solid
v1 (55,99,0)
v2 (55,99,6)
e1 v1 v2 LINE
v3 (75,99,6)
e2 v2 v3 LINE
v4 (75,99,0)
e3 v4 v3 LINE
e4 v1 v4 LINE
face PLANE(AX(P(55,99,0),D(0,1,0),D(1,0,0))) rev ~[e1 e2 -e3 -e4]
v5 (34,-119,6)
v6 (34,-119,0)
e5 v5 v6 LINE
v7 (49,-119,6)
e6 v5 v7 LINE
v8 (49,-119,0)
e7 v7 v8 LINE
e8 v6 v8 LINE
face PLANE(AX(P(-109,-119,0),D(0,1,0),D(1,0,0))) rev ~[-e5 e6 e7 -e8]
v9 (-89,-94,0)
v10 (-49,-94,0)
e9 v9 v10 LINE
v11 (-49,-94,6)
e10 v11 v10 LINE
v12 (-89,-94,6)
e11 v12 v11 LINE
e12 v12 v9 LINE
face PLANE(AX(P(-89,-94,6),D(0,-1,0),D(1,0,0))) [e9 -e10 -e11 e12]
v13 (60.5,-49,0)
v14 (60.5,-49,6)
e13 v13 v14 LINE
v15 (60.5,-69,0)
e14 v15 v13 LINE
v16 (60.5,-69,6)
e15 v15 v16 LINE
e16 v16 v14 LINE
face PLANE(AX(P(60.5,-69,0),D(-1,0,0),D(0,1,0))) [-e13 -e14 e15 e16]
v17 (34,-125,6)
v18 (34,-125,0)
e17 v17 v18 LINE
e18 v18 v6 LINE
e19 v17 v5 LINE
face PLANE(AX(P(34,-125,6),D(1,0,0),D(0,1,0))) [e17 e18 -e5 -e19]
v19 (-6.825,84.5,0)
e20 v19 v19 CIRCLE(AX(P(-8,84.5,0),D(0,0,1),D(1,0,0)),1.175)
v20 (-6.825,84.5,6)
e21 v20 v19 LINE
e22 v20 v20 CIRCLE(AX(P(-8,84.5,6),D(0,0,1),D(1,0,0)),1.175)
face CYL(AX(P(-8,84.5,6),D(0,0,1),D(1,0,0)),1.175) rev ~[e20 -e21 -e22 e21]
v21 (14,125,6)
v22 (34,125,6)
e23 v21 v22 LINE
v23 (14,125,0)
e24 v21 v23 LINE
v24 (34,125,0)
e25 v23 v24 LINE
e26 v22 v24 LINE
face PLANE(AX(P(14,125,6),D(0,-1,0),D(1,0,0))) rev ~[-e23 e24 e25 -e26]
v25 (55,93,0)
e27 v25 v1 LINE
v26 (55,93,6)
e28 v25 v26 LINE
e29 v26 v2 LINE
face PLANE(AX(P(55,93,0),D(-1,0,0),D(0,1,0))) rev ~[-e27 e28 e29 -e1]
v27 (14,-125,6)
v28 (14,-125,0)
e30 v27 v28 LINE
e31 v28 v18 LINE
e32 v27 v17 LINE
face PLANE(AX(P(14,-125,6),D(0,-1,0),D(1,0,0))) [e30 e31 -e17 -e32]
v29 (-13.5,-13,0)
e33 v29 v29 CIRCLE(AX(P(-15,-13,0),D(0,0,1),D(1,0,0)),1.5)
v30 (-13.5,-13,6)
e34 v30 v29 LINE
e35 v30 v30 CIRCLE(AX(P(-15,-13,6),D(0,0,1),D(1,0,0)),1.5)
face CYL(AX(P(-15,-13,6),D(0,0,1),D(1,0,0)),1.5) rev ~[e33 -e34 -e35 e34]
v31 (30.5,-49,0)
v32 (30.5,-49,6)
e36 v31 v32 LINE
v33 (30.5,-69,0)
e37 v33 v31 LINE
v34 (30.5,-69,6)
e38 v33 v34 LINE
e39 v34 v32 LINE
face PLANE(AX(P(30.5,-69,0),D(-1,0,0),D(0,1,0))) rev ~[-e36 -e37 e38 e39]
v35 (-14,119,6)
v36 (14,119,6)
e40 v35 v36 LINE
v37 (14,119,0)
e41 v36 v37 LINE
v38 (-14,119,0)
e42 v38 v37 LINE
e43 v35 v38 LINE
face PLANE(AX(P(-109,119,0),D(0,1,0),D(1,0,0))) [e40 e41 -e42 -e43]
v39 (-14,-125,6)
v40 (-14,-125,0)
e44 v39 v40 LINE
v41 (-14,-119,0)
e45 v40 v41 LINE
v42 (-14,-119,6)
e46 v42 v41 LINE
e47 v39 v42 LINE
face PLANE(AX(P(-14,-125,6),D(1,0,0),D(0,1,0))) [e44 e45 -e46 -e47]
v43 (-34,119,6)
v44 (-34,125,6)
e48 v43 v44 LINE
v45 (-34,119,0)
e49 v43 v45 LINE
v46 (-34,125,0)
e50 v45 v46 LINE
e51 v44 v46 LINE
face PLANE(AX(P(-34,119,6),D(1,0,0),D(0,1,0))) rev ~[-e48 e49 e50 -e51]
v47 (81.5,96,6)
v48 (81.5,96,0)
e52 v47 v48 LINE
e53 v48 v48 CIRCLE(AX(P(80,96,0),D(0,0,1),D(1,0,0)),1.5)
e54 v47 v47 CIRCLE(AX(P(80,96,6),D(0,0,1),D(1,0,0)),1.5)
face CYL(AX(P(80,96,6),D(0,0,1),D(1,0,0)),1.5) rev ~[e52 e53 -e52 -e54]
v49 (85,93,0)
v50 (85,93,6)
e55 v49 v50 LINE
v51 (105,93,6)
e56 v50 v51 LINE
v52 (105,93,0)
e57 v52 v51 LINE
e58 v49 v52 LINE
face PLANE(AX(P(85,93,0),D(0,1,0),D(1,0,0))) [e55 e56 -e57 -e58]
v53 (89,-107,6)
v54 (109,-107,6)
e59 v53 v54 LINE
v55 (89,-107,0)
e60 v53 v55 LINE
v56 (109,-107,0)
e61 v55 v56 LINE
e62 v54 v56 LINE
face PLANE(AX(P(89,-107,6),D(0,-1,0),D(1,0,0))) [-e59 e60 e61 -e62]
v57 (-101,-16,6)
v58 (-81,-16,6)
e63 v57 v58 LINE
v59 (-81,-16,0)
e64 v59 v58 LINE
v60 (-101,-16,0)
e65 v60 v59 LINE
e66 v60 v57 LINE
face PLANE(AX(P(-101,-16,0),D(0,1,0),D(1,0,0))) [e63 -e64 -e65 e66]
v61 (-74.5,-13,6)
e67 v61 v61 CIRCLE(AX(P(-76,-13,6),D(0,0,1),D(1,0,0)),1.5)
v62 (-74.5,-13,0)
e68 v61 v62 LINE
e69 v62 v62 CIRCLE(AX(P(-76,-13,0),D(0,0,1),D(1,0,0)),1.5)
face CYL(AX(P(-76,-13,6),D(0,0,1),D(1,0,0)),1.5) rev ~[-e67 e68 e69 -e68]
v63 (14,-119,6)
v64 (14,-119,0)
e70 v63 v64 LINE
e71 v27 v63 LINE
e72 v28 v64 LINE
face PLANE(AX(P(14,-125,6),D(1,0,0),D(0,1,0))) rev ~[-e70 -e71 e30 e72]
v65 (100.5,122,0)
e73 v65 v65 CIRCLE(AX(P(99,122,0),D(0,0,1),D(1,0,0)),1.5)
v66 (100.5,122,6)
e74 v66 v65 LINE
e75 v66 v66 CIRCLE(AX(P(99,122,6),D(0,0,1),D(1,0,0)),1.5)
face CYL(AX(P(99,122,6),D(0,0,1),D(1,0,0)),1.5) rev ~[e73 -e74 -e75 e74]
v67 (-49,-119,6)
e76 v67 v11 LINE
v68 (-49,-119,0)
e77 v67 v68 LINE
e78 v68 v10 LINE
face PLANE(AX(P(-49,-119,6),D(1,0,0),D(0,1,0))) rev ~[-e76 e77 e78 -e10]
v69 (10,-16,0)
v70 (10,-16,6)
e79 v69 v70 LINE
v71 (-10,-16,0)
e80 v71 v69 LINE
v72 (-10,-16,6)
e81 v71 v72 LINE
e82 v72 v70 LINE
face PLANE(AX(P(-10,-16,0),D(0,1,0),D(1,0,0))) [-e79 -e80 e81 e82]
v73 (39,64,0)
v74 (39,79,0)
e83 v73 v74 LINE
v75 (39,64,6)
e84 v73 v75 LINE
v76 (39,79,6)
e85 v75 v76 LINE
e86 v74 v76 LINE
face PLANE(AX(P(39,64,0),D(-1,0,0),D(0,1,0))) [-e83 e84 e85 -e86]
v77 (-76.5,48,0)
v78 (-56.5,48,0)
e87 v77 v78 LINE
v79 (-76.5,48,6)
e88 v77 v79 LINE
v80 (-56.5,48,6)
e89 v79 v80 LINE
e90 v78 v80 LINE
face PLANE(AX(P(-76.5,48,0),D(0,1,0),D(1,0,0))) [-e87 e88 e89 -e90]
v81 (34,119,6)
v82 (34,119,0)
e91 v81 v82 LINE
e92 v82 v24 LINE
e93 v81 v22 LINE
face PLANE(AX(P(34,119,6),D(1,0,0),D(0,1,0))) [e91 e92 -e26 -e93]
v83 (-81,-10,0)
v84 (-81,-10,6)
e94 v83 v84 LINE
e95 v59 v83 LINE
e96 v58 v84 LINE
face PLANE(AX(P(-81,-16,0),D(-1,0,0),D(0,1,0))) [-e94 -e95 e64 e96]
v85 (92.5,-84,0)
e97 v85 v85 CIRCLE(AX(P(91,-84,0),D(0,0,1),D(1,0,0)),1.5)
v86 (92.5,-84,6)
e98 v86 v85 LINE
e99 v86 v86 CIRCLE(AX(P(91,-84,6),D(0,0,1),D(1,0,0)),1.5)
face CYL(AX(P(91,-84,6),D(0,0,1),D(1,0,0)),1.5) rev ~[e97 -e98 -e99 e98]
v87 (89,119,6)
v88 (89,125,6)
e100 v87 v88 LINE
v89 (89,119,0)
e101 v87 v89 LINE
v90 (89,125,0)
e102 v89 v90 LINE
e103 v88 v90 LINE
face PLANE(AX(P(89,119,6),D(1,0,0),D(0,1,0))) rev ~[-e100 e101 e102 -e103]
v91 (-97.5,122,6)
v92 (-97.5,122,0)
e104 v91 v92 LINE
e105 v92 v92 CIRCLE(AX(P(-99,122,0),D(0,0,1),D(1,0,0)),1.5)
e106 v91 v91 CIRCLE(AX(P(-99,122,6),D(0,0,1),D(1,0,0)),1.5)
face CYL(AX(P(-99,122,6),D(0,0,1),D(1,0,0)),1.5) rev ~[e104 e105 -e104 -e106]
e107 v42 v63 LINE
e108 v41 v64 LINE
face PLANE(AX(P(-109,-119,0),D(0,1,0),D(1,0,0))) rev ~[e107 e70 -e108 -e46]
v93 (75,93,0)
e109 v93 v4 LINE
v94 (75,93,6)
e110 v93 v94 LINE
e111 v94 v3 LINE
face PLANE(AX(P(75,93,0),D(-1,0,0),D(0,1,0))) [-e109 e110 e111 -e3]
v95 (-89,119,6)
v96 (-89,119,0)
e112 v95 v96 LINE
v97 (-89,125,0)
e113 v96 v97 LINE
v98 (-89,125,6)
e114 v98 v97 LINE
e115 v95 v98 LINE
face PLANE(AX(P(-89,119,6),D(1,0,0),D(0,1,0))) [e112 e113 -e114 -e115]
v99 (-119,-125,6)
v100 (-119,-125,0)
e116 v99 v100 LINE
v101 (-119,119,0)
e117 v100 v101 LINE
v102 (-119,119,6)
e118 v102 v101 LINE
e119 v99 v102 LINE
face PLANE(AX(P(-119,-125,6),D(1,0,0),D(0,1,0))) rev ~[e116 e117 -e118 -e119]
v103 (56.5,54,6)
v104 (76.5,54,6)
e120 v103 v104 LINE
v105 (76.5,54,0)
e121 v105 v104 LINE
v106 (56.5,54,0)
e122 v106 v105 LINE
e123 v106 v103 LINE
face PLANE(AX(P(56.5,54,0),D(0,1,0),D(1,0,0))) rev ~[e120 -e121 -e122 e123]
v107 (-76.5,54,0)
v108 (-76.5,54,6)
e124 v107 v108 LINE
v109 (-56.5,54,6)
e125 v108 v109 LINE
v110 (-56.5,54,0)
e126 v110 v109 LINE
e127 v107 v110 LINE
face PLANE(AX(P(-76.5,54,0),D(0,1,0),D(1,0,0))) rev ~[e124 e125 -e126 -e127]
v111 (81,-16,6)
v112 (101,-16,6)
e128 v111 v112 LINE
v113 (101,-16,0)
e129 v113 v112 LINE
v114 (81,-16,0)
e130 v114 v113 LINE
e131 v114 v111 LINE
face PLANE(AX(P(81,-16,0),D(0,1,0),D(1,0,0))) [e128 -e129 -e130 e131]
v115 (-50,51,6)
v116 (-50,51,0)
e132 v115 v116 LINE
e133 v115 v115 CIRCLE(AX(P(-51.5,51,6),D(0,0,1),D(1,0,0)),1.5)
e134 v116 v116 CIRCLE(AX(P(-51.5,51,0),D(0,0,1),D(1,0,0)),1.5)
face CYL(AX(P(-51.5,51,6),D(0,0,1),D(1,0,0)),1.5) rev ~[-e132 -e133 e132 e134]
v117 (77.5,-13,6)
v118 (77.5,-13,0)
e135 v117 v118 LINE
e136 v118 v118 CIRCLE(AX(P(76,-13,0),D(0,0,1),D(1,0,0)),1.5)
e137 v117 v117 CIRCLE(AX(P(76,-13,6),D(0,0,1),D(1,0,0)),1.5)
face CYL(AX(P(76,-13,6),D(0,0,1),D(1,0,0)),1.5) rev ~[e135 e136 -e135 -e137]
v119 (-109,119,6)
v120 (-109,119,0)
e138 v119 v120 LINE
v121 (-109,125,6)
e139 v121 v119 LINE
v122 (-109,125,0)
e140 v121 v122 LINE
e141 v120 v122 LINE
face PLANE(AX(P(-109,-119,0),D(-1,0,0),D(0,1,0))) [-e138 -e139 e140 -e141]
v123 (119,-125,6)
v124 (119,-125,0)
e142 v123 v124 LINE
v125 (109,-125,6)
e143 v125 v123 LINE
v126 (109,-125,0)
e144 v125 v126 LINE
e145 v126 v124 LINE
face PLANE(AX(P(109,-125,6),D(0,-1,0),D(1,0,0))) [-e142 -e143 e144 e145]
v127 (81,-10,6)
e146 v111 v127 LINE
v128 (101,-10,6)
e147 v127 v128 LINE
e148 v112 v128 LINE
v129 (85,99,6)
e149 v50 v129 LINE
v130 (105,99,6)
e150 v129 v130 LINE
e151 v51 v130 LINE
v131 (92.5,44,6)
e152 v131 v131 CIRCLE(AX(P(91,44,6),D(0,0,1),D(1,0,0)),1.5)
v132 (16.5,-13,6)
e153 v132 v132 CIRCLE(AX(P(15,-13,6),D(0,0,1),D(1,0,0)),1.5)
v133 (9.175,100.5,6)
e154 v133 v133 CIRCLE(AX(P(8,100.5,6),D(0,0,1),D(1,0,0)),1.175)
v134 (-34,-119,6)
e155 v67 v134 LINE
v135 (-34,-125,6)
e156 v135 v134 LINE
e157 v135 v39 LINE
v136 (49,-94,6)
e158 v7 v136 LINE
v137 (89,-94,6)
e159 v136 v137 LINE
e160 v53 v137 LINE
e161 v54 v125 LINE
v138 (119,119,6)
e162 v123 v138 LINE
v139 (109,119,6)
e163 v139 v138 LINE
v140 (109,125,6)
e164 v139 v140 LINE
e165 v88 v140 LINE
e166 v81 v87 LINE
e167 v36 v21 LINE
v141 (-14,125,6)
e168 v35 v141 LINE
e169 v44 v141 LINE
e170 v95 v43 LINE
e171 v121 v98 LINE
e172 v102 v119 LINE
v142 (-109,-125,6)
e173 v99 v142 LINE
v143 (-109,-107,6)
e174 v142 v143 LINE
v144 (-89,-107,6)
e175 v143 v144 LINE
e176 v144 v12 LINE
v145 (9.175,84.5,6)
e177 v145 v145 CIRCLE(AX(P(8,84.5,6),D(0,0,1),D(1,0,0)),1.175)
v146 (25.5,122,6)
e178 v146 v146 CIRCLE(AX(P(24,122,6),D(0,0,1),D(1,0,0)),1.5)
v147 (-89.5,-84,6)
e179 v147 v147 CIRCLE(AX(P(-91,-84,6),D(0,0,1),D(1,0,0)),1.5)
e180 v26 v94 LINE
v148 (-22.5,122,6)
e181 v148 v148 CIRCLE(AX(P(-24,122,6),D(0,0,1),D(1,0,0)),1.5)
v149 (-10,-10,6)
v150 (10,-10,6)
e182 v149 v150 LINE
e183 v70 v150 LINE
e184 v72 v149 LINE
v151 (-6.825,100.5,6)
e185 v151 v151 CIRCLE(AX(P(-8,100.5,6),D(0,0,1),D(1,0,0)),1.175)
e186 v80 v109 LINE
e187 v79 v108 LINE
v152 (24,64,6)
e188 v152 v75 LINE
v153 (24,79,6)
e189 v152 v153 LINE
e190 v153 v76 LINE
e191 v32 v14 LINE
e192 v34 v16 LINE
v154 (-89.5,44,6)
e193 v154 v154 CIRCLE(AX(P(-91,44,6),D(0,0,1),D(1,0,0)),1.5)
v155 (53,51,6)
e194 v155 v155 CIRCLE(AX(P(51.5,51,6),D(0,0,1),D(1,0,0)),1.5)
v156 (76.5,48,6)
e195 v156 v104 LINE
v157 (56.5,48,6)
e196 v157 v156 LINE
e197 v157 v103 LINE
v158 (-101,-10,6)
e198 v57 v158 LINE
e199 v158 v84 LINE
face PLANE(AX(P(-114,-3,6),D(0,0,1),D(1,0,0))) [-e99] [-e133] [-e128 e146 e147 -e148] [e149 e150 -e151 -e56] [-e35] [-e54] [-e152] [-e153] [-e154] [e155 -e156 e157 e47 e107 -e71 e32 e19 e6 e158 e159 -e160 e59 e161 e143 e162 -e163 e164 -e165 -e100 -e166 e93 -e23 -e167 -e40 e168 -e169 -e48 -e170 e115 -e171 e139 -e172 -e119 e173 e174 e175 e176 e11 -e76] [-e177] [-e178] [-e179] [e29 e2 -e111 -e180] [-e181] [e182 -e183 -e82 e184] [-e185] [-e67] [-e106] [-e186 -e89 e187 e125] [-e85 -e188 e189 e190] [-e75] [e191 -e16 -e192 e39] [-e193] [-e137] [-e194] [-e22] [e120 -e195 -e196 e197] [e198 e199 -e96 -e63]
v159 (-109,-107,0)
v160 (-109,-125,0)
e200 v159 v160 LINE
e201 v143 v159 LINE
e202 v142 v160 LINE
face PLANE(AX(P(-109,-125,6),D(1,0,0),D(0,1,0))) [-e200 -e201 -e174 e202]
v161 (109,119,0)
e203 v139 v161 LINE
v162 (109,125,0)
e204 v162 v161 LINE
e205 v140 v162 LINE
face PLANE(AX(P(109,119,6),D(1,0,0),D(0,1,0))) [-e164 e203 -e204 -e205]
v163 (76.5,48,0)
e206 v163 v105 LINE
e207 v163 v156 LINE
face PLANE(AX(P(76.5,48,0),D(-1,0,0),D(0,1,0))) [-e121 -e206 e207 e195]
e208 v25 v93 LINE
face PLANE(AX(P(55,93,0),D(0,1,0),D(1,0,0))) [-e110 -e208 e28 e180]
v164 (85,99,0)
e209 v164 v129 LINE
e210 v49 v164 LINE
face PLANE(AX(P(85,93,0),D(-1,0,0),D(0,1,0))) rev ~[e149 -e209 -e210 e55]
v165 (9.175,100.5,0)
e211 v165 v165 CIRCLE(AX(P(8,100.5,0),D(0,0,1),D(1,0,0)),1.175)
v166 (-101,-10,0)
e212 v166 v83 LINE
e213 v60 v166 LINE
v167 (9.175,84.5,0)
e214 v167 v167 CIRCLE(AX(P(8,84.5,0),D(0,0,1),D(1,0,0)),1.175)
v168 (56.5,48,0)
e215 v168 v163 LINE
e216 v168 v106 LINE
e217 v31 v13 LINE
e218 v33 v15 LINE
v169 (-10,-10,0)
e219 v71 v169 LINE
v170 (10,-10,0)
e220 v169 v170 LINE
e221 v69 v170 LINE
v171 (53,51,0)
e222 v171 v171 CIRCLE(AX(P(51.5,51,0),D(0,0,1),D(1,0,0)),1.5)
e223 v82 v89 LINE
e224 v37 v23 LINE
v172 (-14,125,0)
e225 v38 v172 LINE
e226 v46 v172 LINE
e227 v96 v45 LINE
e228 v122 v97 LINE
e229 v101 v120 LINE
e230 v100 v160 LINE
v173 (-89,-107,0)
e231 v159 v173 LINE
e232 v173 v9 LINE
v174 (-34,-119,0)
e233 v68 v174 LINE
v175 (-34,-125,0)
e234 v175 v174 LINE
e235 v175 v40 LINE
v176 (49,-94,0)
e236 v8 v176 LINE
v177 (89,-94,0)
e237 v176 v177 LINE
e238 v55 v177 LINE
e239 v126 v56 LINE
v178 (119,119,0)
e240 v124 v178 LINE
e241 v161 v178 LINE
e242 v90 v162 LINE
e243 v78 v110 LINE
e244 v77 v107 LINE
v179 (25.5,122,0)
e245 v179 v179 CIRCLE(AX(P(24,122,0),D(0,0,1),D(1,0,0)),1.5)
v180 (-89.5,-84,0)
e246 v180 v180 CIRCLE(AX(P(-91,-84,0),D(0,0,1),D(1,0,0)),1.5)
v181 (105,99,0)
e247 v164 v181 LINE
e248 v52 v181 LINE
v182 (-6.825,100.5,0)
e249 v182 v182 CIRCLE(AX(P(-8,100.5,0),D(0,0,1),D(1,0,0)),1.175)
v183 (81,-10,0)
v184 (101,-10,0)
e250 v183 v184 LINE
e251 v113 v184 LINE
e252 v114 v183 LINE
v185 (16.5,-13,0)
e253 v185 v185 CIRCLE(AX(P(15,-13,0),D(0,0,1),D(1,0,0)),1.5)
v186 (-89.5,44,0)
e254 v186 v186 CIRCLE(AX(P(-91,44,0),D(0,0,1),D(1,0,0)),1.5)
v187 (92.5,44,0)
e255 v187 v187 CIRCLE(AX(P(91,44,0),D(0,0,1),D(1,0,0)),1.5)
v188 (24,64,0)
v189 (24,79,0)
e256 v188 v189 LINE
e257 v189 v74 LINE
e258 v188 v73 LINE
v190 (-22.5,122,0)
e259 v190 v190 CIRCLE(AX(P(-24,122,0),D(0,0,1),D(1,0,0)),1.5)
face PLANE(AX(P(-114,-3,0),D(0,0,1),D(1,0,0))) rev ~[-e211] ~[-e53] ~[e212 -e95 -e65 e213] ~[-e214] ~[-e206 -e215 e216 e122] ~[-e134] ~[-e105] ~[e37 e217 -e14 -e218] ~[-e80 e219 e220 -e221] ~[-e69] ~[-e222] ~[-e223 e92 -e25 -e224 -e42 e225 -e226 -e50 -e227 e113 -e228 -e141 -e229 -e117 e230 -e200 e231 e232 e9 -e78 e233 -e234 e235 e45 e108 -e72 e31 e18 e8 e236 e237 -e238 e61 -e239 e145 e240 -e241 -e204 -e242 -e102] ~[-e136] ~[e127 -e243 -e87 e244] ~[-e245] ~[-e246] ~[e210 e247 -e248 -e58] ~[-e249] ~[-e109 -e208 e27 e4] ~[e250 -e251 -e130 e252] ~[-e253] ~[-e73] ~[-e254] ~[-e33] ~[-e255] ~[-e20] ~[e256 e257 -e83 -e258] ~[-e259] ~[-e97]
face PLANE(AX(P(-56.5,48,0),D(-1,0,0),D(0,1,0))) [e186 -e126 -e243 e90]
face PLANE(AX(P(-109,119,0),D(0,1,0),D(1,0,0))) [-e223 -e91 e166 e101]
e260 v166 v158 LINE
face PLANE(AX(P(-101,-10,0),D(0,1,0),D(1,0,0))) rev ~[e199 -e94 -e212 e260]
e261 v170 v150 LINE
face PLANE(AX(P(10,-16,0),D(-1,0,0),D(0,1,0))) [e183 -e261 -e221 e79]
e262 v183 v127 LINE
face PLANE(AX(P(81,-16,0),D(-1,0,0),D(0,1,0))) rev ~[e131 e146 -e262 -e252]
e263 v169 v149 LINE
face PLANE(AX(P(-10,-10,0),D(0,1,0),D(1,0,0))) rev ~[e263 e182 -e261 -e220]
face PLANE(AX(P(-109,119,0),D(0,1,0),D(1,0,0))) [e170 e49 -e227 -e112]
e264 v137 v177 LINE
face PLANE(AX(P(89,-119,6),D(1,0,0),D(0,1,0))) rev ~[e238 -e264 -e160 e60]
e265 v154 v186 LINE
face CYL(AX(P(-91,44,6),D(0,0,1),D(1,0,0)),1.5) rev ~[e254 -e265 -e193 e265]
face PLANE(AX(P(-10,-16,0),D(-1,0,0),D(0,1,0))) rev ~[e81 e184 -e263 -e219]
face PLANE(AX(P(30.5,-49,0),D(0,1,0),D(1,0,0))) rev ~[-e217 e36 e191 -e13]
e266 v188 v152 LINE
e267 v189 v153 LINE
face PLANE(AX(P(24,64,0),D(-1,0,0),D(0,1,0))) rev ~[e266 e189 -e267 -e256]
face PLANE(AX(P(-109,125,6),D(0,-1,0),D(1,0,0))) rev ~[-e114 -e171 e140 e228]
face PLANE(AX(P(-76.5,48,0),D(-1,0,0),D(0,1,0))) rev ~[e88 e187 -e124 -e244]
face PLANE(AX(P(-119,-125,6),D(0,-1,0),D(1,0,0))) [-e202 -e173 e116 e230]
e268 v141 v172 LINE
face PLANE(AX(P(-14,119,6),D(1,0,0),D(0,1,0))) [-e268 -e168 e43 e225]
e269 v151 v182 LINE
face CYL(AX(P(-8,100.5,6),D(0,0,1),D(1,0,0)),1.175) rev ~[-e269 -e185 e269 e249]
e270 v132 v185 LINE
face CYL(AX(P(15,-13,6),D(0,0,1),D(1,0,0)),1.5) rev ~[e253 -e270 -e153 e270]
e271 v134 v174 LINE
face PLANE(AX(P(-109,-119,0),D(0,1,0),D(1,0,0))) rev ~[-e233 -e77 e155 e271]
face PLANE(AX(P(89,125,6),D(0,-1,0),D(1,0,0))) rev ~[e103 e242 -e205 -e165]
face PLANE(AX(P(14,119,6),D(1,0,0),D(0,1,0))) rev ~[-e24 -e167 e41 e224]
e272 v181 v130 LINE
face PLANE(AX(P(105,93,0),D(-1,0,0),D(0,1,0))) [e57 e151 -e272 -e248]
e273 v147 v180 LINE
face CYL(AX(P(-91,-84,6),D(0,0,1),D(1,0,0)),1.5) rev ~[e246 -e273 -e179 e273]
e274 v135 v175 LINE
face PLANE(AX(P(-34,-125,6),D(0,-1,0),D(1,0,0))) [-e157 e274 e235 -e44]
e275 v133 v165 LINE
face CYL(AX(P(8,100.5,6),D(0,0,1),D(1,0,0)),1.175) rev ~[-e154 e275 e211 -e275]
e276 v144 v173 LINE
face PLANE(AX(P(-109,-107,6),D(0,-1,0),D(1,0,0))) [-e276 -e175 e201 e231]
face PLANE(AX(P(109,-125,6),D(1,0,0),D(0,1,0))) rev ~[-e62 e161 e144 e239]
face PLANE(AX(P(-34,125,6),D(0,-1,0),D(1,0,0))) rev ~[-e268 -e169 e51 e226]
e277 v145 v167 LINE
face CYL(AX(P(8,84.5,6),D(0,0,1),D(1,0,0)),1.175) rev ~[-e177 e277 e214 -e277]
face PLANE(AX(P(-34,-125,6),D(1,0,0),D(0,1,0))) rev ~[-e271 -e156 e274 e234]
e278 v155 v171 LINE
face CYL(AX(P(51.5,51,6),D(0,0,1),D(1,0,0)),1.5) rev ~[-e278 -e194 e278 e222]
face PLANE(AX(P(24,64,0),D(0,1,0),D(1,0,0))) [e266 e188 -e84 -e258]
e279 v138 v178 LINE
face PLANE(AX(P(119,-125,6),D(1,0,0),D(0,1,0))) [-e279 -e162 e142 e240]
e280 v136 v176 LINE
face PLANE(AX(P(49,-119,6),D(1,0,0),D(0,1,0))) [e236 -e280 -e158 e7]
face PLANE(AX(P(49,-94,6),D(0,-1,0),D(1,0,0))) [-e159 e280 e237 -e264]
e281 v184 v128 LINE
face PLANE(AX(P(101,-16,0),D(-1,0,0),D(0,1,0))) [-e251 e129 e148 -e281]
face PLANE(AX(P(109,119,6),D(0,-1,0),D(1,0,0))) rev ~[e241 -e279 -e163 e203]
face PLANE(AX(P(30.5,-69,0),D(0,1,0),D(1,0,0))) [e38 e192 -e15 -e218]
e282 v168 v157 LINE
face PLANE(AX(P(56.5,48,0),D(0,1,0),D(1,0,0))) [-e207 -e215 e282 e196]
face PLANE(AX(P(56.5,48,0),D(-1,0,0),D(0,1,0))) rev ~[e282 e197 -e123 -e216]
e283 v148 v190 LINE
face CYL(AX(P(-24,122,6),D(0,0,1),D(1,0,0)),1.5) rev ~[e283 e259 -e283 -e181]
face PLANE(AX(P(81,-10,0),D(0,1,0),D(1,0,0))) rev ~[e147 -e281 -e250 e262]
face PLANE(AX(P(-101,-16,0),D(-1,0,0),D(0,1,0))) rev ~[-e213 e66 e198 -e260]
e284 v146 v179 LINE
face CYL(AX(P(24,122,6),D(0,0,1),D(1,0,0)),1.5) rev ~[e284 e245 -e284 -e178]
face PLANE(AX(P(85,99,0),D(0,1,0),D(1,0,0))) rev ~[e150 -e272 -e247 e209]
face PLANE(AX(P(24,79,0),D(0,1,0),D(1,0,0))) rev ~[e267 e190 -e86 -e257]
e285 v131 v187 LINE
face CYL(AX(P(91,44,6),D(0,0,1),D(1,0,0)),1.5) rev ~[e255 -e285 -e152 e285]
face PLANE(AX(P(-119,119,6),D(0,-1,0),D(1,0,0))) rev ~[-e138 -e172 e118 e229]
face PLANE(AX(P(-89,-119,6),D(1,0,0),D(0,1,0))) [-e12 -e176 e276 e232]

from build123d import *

# Parameters (mm, degrees)
ESQUISSE1_W             = 218
ESQUISSE1_H             = 238
ESQUISSE1_W_2           = 20
ESQUISSE1_H_2           = 6
ESQUISSE1_W_3           = 30
ESQUISSE1_H_3           = 20
ESQUISSE1_W_4           = 15
ESQUISSE1_H_4           = 15
BOSS_EXTRU_1_DEPTH      = 6
ESQUISSE2_W             = 40
ESQUISSE2_H             = 25
ENL_V_MAT_EXTRU_1_DEPTH = 6
ESQUISSE3_W             = 20
ESQUISSE3_H             = 6
BOSS_EXTRU_3_DEPTH      = 6
ESQUISSE4_R             = 1.5
ENL_V_MAT_EXTRU_2_DEPTH = 6
ESQUISSE5_W             = 10
ESQUISSE5_H             = 244
BOSS_EXTRU_4_DEPTH      = 6
ESQUISSE6_W             = 20
ESQUISSE6_H             = 12
ENL_V_MAT_EXTRU_3_DEPTH = 6
ESQUISSE7_R             = 1.175
ENL_V_MAT_EXTRU_4_DEPTH = 7


with BuildPart() as part:
    # Esquisse1 → Boss.-Extru.1 (new body)
    with BuildSketch(Plane.XY):
        Rectangle(ESQUISSE1_W, ESQUISSE1_H)
        with Locations((-91, -13)):
            Rectangle(ESQUISSE1_W_2, ESQUISSE1_H_2, mode=Mode.SUBTRACT)
        with Locations((0, -13)):
            Rectangle(ESQUISSE1_W_2, ESQUISSE1_H_2, mode=Mode.SUBTRACT)
        with Locations((91, -13)):
            Rectangle(ESQUISSE1_W_2, ESQUISSE1_H_2, mode=Mode.SUBTRACT)
        with Locations((-66.5, 51)):
            Rectangle(ESQUISSE1_W_2, ESQUISSE1_H_2, mode=Mode.SUBTRACT)
        with Locations((66.5, 51)):
            Rectangle(ESQUISSE1_W_2, ESQUISSE1_H_2, mode=Mode.SUBTRACT)
        with Locations((45.5, -59)):
            Rectangle(ESQUISSE1_W_3, ESQUISSE1_H_3, mode=Mode.SUBTRACT)
        with Locations((65, 96)):
            Rectangle(ESQUISSE1_W_2, ESQUISSE1_H_2, mode=Mode.SUBTRACT)
        with Locations((95, 96)):
            Rectangle(ESQUISSE1_W_2, ESQUISSE1_H_2, mode=Mode.SUBTRACT)
        with Locations((31.5, 71.5)):
            Rectangle(ESQUISSE1_W_4, ESQUISSE1_H_4, mode=Mode.SUBTRACT)
    extrude(amount=BOSS_EXTRU_1_DEPTH)

    # Esquisse2 → Enlèv. mat.-Extru.1 (cut)
    with BuildSketch(Plane.XY.offset(6)):
        with Locations((-69, -106.5)):
            Rectangle(ESQUISSE2_W, ESQUISSE2_H)
        with Locations((69, -106.5)):
            Rectangle(ESQUISSE2_W, ESQUISSE2_H)
    extrude(amount=-ENL_V_MAT_EXTRU_1_DEPTH, mode=Mode.SUBTRACT)

    # Esquisse3 → Boss.-Extru.3 (add)
    with BuildSketch(Plane.XY.offset(6)):
        with Locations((-24, -122)):
            Rectangle(ESQUISSE3_W, ESQUISSE3_H)
        with Locations((24, -122)):
            Rectangle(ESQUISSE3_W, ESQUISSE3_H)
        with Locations((24, 122)):
            Rectangle(ESQUISSE3_W, ESQUISSE3_H)
        with Locations((99, 122)):
            Rectangle(ESQUISSE3_W, ESQUISSE3_H)
        with Locations((-24, 122)):
            Rectangle(ESQUISSE3_W, ESQUISSE3_H)
        with Locations((-99, 122)):
            Rectangle(ESQUISSE3_W, ESQUISSE3_H)
    extrude(amount=-BOSS_EXTRU_3_DEPTH)

    # Esquisse4 → Enlèv. mat.-Extru.2 (cut)
    with BuildSketch(Plane.XY.offset(6)):
        with Locations((-15, -13)):
            Circle(ESQUISSE4_R)
        with Locations((-76, -13)):
            Circle(ESQUISSE4_R)
        with Locations((80, 96)):
            Circle(ESQUISSE4_R)
        with Locations((51.5, 51)):
            Circle(ESQUISSE4_R)
        with Locations((76, -13)):
            Circle(ESQUISSE4_R)
        with Locations((15, -13)):
            Circle(ESQUISSE4_R)
        with Locations((-51.5, 51)):
            Circle(ESQUISSE4_R)
        with Locations((-99, 122)):
            Circle(ESQUISSE4_R)
        with Locations((-24, 122)):
            Circle(ESQUISSE4_R)
        with Locations((24, 122)):
            Circle(ESQUISSE4_R)
        with Locations((99, 122)):
            Circle(ESQUISSE4_R)
        with Locations((-91, -84)):
            Circle(ESQUISSE4_R)
        with Locations((-91, 44)):
            Circle(ESQUISSE4_R)
        with Locations((91, -84)):
            Circle(ESQUISSE4_R)
        with Locations((91, 44)):
            Circle(ESQUISSE4_R)
    extrude(amount=-ENL_V_MAT_EXTRU_2_DEPTH, mode=Mode.SUBTRACT)

    # Esquisse5 → Boss.-Extru.4 (add)
    with BuildSketch(Plane.XY.offset(6)):
        with Locations((-114, -3)):
            Rectangle(ESQUISSE5_W, ESQUISSE5_H)
        with Locations((114, -3)):
            Rectangle(ESQUISSE5_W, ESQUISSE5_H)
    extrude(amount=-BOSS_EXTRU_4_DEPTH)

    # Esquisse6 → Enlèv. mat.-Extru.3 (cut)
    with BuildSketch(Plane.XY.offset(6)):
        with Locations((99, -113)):
            Rectangle(ESQUISSE6_W, ESQUISSE6_H)
        with Locations((-99, -113)):
            Rectangle(ESQUISSE6_W, ESQUISSE6_H)
    extrude(amount=-ENL_V_MAT_EXTRU_3_DEPTH, mode=Mode.SUBTRACT)

    # Esquisse7 → Enlèv. mat.-Extru.4 (cut, through all)
    with BuildSketch(Plane.XY.offset(6)):
        with Locations((-8, 100.5)):
            Circle(ESQUISSE7_R)
        with Locations((8, 100.5)):
            Circle(ESQUISSE7_R)
        with Locations((-8, 84.5)):
            Circle(ESQUISSE7_R)
        with Locations((8, 84.5)):
            Circle(ESQUISSE7_R)
    extrude(amount=-ENL_V_MAT_EXTRU_4_DEPTH, mode=Mode.SUBTRACT)


solid = part.part
